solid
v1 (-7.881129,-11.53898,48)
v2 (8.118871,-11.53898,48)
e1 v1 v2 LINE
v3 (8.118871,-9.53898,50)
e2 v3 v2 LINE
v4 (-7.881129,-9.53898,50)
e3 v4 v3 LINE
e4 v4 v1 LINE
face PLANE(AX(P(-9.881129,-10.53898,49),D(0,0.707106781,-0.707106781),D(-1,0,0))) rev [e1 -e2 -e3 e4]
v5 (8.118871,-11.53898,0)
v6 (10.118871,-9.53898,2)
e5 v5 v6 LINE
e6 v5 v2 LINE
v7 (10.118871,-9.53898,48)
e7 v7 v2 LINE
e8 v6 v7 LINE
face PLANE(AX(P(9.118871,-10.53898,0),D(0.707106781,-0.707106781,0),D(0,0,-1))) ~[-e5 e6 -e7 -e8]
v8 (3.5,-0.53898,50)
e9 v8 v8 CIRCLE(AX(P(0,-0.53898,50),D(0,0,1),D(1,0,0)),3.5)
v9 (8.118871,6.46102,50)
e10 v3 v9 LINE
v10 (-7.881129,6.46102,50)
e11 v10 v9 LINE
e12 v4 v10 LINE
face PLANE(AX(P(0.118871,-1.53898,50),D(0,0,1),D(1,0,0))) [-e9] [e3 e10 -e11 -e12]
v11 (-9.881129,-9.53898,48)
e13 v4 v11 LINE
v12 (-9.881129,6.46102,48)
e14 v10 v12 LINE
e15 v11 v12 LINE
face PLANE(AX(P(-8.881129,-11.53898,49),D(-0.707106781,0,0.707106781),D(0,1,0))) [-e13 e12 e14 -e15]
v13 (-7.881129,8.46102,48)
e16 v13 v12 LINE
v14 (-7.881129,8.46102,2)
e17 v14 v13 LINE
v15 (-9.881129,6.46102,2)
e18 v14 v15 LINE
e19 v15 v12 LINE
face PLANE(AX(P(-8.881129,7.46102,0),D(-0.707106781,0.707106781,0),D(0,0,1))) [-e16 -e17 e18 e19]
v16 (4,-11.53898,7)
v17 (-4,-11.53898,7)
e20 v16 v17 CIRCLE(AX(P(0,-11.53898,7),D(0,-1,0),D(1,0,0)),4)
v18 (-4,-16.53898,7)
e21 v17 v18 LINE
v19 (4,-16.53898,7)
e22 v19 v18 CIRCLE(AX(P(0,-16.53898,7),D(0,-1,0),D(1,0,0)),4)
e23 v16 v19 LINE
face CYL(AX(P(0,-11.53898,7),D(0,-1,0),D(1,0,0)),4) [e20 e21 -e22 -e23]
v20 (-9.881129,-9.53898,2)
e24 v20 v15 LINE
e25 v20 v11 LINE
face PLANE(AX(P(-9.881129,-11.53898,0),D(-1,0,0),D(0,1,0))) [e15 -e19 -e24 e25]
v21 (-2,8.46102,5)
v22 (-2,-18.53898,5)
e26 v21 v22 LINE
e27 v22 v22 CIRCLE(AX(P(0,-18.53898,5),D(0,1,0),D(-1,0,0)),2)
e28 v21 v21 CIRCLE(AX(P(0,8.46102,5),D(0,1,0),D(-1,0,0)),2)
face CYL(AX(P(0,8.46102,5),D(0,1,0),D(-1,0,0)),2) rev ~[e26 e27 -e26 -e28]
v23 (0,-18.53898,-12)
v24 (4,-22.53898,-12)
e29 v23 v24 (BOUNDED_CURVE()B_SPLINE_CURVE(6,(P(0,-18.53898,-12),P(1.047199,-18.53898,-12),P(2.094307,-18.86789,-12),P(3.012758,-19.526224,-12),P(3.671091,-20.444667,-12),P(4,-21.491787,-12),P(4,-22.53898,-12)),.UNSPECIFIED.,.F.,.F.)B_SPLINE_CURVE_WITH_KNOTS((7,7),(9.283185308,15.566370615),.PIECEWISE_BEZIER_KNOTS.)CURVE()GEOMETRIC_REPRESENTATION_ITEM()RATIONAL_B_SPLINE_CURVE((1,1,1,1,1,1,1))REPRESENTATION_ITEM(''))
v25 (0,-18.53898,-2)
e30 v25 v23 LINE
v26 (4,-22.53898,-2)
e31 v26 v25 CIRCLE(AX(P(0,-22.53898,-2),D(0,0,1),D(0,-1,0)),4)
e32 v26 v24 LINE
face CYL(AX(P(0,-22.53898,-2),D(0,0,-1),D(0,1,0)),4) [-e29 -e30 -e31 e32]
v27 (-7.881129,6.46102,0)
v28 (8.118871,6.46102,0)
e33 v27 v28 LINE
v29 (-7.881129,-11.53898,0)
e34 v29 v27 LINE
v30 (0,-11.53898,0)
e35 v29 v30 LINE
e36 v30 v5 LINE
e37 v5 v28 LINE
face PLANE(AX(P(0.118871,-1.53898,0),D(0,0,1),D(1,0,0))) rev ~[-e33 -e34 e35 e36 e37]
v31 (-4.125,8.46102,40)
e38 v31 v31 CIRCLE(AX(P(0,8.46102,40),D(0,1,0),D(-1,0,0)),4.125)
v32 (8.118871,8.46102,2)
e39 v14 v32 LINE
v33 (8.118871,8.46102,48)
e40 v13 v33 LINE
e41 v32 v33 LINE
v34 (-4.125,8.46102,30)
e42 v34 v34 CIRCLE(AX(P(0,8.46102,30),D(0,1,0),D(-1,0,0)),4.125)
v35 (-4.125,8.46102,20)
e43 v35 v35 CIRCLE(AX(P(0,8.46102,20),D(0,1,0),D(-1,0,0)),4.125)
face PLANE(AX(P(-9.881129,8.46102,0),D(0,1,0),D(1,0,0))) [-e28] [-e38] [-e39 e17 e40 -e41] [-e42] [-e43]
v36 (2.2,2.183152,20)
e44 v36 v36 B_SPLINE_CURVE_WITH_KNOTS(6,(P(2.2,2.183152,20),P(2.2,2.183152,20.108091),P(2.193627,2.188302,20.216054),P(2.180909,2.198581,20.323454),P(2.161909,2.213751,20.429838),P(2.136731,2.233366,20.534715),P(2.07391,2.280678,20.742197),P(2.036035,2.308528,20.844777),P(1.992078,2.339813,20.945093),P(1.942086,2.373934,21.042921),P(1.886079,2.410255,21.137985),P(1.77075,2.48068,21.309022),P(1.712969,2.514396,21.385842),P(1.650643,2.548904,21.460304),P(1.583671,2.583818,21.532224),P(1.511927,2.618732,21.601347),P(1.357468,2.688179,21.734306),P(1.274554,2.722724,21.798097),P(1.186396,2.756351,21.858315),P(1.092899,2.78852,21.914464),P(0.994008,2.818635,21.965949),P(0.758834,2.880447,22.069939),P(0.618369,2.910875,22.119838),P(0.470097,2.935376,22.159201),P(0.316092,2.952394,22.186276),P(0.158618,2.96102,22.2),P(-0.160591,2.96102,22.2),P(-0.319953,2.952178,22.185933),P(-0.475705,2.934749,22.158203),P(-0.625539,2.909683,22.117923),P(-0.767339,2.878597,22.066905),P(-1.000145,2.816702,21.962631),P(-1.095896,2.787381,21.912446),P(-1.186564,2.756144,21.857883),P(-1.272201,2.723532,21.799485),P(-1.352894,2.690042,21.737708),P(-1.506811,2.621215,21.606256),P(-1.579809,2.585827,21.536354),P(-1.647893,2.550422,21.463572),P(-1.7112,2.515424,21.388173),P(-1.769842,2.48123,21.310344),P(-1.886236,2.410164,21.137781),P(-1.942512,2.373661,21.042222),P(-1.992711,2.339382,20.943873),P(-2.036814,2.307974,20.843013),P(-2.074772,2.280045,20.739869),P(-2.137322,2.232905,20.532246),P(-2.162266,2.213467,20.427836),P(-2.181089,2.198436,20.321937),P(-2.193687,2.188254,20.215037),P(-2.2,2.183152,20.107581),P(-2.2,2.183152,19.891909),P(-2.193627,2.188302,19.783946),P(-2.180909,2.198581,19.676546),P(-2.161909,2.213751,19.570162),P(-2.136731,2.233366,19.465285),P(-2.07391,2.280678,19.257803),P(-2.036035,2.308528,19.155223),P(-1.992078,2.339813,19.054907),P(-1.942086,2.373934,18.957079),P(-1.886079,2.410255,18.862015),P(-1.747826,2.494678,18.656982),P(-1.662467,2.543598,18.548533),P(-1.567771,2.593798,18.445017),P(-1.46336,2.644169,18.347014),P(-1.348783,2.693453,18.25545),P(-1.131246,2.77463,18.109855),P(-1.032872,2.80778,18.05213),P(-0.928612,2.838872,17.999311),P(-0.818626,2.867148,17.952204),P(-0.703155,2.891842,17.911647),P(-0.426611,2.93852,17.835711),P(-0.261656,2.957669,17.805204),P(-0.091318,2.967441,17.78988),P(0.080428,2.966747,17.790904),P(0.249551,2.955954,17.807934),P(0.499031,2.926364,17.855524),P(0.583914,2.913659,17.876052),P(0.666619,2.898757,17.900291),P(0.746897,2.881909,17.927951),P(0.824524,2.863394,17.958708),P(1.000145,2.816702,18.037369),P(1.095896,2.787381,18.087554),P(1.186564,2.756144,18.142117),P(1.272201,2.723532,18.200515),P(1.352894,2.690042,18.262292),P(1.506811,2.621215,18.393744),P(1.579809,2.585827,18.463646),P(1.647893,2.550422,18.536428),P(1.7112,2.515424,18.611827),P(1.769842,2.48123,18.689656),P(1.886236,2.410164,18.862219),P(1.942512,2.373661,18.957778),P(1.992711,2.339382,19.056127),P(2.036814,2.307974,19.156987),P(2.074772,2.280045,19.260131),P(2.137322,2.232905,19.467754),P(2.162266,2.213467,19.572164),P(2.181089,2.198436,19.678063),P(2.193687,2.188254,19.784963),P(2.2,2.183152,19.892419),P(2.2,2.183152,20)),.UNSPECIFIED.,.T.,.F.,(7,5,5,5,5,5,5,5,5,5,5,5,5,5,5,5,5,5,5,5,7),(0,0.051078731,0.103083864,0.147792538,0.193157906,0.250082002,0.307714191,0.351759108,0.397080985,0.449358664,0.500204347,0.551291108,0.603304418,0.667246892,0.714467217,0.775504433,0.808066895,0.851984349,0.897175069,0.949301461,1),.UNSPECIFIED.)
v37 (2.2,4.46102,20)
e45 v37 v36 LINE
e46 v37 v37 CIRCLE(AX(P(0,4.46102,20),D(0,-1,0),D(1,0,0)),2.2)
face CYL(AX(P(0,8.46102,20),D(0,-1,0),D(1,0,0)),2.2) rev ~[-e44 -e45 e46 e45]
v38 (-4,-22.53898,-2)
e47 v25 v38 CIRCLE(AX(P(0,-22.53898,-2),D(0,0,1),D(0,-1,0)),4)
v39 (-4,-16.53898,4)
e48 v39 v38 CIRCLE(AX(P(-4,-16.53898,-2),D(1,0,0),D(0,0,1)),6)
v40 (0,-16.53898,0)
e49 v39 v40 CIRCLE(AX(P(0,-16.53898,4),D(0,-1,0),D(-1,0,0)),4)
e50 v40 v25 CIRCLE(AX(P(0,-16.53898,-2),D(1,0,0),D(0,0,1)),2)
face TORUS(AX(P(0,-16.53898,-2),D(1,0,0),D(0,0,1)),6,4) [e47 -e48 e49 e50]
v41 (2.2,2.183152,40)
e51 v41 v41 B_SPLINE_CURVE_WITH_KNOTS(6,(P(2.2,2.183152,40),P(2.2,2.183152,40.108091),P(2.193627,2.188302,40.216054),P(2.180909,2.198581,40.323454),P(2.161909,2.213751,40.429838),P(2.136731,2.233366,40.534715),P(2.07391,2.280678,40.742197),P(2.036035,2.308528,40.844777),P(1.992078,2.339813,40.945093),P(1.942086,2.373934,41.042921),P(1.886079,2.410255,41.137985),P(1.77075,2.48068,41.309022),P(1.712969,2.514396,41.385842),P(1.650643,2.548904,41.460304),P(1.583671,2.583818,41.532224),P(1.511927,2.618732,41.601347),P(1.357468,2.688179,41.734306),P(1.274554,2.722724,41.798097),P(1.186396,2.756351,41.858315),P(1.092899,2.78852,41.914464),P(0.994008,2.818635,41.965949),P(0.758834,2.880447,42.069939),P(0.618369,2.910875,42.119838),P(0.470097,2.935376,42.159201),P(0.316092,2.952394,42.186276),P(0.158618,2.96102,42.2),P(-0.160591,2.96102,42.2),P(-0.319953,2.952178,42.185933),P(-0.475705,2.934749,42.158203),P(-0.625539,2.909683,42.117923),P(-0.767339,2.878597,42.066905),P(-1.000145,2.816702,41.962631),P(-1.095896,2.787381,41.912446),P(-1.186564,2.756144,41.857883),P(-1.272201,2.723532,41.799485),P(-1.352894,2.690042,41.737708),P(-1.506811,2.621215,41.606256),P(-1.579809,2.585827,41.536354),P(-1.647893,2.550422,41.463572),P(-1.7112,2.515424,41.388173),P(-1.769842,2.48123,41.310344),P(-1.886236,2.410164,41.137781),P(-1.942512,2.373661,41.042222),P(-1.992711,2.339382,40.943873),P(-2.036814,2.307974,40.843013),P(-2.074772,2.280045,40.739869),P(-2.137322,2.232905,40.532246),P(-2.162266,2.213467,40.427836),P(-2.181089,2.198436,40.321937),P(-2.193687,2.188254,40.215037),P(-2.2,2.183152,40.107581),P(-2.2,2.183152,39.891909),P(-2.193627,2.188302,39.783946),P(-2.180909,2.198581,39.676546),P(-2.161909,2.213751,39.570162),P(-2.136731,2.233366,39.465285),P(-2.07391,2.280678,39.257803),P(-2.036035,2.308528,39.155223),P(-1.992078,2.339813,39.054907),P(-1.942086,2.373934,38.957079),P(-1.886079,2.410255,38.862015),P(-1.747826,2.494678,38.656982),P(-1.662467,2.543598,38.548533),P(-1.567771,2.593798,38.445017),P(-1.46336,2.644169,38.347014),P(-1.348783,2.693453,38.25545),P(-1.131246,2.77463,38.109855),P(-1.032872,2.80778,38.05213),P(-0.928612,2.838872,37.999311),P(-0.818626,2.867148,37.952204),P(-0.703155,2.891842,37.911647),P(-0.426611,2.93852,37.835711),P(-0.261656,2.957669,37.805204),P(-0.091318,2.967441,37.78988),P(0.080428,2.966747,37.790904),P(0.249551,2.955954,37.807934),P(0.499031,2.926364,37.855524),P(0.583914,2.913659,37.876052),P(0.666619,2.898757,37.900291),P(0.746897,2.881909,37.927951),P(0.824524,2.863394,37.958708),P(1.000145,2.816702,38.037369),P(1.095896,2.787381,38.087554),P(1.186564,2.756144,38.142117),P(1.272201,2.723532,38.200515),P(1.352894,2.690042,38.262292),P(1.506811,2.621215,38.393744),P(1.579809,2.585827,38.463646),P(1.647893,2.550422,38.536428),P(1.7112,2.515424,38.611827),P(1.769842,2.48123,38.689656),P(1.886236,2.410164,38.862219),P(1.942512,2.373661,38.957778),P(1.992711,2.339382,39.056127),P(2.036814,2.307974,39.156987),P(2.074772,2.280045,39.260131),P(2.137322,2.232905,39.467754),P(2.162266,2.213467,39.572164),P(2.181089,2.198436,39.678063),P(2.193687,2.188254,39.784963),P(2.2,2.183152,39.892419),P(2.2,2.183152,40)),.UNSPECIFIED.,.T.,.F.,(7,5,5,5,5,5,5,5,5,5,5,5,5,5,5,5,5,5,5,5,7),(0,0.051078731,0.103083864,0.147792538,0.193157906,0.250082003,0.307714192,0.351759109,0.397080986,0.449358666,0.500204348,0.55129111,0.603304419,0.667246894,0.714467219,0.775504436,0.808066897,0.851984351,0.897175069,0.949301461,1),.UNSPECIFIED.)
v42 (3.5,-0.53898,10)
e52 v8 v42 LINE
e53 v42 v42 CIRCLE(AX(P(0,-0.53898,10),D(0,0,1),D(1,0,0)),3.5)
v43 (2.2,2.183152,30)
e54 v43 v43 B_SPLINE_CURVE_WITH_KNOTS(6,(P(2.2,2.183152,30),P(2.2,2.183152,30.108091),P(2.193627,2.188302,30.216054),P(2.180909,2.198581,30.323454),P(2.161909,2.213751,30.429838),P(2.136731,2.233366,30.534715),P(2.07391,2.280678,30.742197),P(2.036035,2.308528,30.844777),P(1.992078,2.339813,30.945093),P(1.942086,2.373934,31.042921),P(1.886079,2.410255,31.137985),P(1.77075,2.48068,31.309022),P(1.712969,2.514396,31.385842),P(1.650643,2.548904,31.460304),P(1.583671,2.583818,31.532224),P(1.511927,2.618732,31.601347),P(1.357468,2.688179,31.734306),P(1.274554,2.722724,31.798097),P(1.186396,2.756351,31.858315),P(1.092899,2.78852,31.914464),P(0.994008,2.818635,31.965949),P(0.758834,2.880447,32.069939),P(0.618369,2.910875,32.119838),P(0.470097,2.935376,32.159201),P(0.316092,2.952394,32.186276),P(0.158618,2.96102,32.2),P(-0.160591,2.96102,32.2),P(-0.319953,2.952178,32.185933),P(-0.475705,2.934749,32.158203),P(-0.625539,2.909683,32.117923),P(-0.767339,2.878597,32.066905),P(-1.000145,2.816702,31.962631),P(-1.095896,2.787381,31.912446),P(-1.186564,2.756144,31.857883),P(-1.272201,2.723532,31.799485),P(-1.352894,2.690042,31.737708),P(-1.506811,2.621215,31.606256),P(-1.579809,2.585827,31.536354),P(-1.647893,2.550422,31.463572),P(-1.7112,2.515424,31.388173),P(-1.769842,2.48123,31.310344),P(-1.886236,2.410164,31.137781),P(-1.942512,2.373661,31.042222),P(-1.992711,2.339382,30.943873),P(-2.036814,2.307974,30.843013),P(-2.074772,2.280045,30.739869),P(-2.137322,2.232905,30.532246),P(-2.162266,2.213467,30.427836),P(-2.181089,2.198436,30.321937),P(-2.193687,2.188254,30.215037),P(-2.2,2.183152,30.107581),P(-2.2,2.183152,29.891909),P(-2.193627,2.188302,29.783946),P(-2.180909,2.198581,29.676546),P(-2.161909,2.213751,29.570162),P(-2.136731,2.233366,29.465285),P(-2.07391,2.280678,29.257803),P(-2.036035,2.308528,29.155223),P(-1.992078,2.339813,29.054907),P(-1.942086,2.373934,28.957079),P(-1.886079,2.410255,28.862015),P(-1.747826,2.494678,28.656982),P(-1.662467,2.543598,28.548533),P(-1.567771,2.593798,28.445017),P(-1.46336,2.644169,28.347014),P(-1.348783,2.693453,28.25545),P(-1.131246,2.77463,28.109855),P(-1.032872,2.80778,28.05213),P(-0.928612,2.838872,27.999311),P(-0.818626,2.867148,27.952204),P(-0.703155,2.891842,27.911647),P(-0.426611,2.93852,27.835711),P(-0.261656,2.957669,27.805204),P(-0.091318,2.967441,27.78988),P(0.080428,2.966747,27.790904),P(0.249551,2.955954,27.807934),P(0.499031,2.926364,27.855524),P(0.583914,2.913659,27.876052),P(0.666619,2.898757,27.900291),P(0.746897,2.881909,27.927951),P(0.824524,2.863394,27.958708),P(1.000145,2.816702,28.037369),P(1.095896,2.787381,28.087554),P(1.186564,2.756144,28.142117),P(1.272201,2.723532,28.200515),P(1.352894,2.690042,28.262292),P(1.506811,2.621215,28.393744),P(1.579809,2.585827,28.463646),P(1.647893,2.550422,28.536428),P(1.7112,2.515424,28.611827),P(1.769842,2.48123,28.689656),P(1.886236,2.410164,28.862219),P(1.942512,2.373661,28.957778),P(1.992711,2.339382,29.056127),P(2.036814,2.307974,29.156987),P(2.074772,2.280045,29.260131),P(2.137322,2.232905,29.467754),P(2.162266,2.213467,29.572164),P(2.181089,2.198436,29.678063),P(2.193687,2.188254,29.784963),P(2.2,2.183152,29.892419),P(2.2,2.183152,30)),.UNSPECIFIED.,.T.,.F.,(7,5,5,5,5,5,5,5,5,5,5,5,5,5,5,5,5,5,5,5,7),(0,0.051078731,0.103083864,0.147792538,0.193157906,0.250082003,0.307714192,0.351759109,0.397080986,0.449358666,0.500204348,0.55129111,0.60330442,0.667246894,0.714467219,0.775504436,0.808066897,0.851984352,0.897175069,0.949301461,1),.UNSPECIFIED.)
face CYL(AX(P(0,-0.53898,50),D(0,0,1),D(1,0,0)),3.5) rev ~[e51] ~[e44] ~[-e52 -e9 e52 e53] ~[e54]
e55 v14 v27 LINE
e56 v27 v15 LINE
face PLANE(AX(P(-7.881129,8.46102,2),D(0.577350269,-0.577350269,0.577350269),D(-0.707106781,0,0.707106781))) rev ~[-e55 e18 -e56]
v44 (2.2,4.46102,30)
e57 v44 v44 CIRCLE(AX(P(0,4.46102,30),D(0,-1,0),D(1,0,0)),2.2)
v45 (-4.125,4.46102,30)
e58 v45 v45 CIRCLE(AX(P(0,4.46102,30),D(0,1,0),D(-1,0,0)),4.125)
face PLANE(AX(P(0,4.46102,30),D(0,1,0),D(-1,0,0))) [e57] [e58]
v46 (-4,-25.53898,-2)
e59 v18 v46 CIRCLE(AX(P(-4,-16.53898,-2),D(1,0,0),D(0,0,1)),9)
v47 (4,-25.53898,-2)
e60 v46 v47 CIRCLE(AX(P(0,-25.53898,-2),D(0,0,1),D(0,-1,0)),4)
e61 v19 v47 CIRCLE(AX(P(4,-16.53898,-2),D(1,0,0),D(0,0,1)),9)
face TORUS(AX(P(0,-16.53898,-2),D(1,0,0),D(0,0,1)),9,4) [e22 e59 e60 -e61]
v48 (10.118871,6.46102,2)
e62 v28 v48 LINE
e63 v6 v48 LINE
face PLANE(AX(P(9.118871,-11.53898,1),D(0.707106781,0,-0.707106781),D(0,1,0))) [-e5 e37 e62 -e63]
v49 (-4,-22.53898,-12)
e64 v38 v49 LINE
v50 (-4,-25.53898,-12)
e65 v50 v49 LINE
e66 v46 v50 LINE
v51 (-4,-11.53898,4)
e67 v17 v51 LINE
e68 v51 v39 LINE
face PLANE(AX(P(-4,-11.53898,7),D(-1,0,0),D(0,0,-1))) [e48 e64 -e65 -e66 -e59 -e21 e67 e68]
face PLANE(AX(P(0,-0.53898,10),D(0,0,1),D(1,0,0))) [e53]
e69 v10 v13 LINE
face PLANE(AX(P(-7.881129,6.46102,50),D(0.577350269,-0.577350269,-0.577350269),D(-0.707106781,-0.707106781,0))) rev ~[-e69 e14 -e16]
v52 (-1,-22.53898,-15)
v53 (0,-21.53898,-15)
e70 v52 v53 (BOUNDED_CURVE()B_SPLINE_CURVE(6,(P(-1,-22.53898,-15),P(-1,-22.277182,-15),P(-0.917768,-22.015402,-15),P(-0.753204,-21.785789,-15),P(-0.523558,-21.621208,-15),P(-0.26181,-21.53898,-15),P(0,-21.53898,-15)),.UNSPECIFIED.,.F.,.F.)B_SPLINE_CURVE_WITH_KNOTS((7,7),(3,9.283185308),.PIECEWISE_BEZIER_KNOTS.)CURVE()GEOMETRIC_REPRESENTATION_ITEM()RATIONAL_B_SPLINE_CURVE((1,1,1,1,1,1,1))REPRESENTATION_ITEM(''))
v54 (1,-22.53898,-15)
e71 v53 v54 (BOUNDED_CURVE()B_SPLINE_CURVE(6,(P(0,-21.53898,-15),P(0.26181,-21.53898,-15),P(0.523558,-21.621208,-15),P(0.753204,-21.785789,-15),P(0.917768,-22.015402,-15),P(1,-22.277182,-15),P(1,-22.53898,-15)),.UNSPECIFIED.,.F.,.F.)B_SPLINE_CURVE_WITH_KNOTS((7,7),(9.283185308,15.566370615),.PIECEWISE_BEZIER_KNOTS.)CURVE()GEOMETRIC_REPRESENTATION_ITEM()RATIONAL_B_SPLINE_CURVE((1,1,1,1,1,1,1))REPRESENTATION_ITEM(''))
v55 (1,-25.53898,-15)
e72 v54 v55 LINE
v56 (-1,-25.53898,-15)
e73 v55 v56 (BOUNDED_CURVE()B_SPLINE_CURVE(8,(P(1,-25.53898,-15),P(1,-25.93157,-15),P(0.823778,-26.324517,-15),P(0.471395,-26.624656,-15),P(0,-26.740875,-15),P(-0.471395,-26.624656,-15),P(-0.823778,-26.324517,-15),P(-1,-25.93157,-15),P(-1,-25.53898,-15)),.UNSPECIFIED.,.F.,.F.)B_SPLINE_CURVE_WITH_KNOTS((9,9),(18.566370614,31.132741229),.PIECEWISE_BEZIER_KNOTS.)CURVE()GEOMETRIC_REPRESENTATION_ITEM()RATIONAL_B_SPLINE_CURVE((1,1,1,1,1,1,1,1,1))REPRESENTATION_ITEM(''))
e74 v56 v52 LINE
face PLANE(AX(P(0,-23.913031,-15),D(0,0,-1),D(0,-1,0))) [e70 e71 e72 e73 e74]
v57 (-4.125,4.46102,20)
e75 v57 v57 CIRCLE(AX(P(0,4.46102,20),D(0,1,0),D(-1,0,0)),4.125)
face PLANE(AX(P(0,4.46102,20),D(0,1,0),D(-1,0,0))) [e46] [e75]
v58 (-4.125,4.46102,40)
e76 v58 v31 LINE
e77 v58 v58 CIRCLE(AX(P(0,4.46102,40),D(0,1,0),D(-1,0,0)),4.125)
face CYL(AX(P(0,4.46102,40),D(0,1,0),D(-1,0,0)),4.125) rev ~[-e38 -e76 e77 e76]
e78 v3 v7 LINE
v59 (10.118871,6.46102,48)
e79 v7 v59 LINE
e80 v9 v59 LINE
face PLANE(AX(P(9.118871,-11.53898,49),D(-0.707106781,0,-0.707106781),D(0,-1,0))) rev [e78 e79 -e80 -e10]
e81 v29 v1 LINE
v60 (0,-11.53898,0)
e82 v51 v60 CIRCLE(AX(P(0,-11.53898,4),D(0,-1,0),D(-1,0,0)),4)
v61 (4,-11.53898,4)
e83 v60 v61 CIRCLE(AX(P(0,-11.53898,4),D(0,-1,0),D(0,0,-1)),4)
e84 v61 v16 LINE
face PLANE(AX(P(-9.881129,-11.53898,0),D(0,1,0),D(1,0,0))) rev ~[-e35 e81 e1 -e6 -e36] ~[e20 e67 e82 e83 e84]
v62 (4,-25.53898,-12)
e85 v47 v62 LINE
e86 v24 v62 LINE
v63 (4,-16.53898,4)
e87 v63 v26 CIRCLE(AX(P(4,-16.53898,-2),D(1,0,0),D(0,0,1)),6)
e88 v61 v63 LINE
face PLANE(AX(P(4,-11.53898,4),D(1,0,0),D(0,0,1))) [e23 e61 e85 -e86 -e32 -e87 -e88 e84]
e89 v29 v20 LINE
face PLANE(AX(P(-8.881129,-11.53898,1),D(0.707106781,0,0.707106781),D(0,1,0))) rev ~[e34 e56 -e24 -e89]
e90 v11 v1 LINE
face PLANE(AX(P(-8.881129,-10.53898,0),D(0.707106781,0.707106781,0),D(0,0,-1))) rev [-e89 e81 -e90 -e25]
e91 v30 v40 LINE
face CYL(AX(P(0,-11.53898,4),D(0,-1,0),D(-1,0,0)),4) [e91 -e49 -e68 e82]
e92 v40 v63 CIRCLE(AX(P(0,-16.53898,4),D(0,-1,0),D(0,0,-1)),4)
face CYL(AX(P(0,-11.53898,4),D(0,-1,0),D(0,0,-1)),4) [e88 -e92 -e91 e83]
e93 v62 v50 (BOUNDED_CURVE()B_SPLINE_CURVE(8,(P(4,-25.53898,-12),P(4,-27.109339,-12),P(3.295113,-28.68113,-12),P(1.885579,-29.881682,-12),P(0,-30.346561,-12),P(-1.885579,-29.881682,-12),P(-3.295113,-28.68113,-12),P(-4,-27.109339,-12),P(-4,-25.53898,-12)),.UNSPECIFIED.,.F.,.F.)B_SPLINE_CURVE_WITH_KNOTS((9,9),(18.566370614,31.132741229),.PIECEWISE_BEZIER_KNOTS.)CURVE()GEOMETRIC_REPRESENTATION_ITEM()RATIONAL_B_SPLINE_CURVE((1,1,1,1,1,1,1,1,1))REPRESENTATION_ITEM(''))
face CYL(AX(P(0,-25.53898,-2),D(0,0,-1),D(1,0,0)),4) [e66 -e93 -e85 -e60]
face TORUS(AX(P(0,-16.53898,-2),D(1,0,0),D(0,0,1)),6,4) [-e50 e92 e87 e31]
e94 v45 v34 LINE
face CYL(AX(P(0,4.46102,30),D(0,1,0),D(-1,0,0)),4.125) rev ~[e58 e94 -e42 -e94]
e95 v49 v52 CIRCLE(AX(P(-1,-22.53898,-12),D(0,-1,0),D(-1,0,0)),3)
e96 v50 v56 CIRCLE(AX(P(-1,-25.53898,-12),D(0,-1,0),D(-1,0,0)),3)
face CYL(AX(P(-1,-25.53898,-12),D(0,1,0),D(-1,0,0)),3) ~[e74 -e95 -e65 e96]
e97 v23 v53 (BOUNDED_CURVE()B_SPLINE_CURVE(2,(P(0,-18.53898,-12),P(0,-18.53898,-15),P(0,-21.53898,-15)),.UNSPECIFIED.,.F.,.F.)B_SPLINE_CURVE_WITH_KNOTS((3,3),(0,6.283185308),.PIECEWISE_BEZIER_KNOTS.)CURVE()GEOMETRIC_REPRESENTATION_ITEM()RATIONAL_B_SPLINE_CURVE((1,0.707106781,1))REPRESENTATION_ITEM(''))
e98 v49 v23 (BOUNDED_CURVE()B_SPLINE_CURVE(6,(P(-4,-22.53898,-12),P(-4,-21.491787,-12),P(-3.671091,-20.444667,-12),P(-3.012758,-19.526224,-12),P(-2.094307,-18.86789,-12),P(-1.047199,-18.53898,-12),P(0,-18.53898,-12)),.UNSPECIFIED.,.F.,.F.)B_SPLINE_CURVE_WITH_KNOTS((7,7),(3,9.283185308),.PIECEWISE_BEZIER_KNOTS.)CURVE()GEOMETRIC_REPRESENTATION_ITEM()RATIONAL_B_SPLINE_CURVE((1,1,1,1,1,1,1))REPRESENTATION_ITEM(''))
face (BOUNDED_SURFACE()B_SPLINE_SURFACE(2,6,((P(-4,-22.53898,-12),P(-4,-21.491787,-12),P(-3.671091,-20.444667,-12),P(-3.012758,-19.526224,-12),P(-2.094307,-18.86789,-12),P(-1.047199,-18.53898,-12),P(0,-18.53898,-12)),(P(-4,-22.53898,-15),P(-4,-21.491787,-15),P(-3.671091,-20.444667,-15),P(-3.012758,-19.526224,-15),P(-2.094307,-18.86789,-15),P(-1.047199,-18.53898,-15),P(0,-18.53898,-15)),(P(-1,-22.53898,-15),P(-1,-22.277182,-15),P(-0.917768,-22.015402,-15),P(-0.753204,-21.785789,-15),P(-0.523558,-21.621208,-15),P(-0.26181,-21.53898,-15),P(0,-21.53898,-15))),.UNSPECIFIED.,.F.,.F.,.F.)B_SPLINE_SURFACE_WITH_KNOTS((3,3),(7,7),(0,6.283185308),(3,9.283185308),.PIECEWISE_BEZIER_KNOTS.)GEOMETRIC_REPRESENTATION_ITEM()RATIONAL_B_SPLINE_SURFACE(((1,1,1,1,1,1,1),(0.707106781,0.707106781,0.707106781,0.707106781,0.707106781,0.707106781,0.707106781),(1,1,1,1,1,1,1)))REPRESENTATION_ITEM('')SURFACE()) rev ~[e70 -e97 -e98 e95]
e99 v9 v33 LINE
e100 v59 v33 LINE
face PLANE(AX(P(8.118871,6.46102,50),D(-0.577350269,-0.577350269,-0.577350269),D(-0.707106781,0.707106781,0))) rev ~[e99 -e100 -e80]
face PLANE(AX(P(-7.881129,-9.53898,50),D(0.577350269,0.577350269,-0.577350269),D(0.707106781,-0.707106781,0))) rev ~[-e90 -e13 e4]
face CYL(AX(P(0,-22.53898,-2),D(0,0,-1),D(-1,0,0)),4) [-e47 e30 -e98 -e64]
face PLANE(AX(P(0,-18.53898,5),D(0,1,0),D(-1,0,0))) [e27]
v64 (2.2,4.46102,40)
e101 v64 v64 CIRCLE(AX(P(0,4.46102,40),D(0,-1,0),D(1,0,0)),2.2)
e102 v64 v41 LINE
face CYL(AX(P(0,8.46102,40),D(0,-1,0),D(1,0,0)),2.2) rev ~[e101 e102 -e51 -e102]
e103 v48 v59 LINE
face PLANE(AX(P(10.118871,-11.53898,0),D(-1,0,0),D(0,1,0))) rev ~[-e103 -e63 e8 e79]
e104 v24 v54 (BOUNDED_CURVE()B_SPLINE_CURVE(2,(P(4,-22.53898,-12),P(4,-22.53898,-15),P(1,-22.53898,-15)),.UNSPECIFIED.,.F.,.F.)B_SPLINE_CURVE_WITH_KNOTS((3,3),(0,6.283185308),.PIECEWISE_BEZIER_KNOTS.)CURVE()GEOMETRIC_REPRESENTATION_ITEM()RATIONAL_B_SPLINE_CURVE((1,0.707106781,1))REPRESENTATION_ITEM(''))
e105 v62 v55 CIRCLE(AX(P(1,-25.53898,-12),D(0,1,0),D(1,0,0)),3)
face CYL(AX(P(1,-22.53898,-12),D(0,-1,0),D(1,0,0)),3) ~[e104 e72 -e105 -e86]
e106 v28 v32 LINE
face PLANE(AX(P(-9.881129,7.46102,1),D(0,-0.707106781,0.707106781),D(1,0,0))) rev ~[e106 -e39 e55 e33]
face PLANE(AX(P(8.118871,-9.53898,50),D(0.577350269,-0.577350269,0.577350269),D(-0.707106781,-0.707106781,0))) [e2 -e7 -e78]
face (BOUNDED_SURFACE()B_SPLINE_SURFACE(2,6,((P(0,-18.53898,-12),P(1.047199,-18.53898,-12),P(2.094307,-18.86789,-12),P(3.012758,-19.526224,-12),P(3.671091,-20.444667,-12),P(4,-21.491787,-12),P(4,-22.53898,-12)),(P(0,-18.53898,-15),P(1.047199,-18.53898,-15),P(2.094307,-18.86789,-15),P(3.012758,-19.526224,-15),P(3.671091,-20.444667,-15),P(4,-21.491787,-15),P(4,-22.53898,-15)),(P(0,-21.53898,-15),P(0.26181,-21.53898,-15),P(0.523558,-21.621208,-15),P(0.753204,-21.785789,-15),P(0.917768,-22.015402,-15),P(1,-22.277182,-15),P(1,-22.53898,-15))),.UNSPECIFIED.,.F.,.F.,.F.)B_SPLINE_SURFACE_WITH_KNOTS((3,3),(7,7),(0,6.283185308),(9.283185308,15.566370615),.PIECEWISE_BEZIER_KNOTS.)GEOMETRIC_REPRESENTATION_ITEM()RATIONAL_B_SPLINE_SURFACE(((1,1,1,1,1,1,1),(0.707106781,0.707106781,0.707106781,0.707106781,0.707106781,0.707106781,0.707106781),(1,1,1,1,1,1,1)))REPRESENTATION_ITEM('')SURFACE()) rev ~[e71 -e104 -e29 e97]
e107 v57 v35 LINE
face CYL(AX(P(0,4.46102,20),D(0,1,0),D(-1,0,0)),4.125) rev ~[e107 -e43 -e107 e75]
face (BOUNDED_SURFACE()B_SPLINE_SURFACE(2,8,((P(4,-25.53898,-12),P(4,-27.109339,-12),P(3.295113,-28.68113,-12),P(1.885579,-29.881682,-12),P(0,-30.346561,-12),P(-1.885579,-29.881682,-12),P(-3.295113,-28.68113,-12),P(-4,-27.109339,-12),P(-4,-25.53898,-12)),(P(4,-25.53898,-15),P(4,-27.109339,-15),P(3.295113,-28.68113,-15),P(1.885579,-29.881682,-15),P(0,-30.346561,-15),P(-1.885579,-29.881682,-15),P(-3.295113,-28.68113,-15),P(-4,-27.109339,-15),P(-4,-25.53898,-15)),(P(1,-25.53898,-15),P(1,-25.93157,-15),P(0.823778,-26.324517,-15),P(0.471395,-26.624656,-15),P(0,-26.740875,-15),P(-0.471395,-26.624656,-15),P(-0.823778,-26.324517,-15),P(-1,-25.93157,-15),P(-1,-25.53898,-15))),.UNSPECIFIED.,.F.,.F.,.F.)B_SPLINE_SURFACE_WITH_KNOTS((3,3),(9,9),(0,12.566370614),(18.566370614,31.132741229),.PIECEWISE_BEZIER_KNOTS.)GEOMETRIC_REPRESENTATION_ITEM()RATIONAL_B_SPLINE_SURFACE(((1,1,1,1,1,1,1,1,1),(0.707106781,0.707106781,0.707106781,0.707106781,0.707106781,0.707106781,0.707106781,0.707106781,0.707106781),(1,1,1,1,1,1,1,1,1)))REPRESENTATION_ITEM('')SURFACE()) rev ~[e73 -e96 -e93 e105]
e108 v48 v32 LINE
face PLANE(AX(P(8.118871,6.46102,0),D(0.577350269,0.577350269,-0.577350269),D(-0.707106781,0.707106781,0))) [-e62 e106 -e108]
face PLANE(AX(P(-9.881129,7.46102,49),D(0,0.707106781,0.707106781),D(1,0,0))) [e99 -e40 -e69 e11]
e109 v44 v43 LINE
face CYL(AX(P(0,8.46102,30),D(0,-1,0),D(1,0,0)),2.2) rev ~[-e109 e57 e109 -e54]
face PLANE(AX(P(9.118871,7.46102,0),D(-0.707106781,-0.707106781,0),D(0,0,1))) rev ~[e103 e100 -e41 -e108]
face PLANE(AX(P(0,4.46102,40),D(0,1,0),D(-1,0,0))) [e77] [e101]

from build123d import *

# Parameters (mm, degrees)
F0_W            = 20
F0_H            = 20
F1_DEPTH        = 50
F5_R            = 3
F6_SIZE         = 2
F7_R            = 3.5
F8_DEPTH        = 40
F10_D           = 4.4
F10_DEPTH       = 10
F10_CBORE_D     = 8.25
F10_CBORE_DEPTH = 4
F10_TIP         = 1.3218933619
F11_R           = 2
F12_DEPTH       = 27


with BuildPart() as f1:
    # F0 (on Top) → F1 (new body)
    with BuildSketch(Plane.XY):
        with Locations((0.1188712195, -1.538979894)):
            Rectangle(F0_W, F0_H)
    extrude(amount=F1_DEPTH)

    # F4: sweep along a path in F3
    with BuildLine(Plane.YZ) as f4_path:
        Line((-11.538979894, 0), (-16.538979894, 0))
        ThreePointArc((-16.538979894, 0), (-17.9531934564, -0.5857864376), (-18.538979894, -2))
        Line((-18.538979894, -2), (-18.538979894, -15))
    # F2 (on face) → F4 (sweep)
    with BuildSketch(Plane.XZ.offset(11.538979894)):
        with BuildLine():
            Line((-4, 7), (-4, 4))
            ThreePointArc((-4, 4), (-2.8284271247, 1.1715728753), (0, 0))
            ThreePointArc((0, 0), (2.8284271247, 1.1715728753), (4, 4))
            Line((4, 4), (4, 7))
            ThreePointArc((4, 7), (0, 11), (-4, 7))
        make_face()
    sweep(path=f4_path.line)

    # F5
    f5_edges = [f1.edges().sort_by_distance(p)[0] for p in [
        (-4, -24.03898, -15),
        (0, -18.53898, -15),
        (4, -24.03898, -15),
        (0, -29.53898, -15),
    ]]
    fillet(f5_edges, radius=F5_R)

    # F6
    f6_edges = [f1.edges().sort_by_distance(p)[0] for p in [
        (10.118871, -11.53898, 25),
        (10.118871, 8.46102, 25),
        (-9.881129, -11.53898, 25),
        (-9.881129, -1.53898, 0),
        (10.118871, -1.53898, 0),
        (0.118871, 8.46102, 0),
        (-9.881129, 8.46102, 25),
        (10.118871, -1.53898, 50),
        (0.118871, 8.46102, 50),
        (-9.881129, -1.53898, 50),
        (0.118871, -11.53898, 50),
    ]]
    chamfer(f6_edges, length=F6_SIZE)

    # F7 (on face) → F8 (cut)
    with BuildSketch(Plane.XY.offset(50)):
        with Locations((0, -0.538979894)):
            Circle(F7_R)
    extrude(amount=-F8_DEPTH, mode=Mode.SUBTRACT)

    # F10
    with Locations(Plane(origin=(0, 8.461020106, 0), x_dir=(-1, 0, 0), z_dir=(0, 1, 0))):
        with Locations((0, 40), (0, 30), (0, 20)):
            CounterBoreHole(F10_D / 2, F10_CBORE_D / 2, F10_CBORE_DEPTH, depth=F10_DEPTH)
            with Locations((0, 0, -(F10_DEPTH + F10_TIP / 2))):  # 118° drill point
                Cone(0, F10_D / 2, F10_TIP, mode=Mode.SUBTRACT)

    # F11 (on face) → F12 (cut)
    with BuildSketch(Plane(origin=(0, 8.461020106, 0), x_dir=(-1, 0, 0), z_dir=(0, 1, 0))):
        with Locations((0, 5)):
            Circle(F11_R)
    extrude(amount=-F12_DEPTH, mode=Mode.SUBTRACT)


solid = f1.part
